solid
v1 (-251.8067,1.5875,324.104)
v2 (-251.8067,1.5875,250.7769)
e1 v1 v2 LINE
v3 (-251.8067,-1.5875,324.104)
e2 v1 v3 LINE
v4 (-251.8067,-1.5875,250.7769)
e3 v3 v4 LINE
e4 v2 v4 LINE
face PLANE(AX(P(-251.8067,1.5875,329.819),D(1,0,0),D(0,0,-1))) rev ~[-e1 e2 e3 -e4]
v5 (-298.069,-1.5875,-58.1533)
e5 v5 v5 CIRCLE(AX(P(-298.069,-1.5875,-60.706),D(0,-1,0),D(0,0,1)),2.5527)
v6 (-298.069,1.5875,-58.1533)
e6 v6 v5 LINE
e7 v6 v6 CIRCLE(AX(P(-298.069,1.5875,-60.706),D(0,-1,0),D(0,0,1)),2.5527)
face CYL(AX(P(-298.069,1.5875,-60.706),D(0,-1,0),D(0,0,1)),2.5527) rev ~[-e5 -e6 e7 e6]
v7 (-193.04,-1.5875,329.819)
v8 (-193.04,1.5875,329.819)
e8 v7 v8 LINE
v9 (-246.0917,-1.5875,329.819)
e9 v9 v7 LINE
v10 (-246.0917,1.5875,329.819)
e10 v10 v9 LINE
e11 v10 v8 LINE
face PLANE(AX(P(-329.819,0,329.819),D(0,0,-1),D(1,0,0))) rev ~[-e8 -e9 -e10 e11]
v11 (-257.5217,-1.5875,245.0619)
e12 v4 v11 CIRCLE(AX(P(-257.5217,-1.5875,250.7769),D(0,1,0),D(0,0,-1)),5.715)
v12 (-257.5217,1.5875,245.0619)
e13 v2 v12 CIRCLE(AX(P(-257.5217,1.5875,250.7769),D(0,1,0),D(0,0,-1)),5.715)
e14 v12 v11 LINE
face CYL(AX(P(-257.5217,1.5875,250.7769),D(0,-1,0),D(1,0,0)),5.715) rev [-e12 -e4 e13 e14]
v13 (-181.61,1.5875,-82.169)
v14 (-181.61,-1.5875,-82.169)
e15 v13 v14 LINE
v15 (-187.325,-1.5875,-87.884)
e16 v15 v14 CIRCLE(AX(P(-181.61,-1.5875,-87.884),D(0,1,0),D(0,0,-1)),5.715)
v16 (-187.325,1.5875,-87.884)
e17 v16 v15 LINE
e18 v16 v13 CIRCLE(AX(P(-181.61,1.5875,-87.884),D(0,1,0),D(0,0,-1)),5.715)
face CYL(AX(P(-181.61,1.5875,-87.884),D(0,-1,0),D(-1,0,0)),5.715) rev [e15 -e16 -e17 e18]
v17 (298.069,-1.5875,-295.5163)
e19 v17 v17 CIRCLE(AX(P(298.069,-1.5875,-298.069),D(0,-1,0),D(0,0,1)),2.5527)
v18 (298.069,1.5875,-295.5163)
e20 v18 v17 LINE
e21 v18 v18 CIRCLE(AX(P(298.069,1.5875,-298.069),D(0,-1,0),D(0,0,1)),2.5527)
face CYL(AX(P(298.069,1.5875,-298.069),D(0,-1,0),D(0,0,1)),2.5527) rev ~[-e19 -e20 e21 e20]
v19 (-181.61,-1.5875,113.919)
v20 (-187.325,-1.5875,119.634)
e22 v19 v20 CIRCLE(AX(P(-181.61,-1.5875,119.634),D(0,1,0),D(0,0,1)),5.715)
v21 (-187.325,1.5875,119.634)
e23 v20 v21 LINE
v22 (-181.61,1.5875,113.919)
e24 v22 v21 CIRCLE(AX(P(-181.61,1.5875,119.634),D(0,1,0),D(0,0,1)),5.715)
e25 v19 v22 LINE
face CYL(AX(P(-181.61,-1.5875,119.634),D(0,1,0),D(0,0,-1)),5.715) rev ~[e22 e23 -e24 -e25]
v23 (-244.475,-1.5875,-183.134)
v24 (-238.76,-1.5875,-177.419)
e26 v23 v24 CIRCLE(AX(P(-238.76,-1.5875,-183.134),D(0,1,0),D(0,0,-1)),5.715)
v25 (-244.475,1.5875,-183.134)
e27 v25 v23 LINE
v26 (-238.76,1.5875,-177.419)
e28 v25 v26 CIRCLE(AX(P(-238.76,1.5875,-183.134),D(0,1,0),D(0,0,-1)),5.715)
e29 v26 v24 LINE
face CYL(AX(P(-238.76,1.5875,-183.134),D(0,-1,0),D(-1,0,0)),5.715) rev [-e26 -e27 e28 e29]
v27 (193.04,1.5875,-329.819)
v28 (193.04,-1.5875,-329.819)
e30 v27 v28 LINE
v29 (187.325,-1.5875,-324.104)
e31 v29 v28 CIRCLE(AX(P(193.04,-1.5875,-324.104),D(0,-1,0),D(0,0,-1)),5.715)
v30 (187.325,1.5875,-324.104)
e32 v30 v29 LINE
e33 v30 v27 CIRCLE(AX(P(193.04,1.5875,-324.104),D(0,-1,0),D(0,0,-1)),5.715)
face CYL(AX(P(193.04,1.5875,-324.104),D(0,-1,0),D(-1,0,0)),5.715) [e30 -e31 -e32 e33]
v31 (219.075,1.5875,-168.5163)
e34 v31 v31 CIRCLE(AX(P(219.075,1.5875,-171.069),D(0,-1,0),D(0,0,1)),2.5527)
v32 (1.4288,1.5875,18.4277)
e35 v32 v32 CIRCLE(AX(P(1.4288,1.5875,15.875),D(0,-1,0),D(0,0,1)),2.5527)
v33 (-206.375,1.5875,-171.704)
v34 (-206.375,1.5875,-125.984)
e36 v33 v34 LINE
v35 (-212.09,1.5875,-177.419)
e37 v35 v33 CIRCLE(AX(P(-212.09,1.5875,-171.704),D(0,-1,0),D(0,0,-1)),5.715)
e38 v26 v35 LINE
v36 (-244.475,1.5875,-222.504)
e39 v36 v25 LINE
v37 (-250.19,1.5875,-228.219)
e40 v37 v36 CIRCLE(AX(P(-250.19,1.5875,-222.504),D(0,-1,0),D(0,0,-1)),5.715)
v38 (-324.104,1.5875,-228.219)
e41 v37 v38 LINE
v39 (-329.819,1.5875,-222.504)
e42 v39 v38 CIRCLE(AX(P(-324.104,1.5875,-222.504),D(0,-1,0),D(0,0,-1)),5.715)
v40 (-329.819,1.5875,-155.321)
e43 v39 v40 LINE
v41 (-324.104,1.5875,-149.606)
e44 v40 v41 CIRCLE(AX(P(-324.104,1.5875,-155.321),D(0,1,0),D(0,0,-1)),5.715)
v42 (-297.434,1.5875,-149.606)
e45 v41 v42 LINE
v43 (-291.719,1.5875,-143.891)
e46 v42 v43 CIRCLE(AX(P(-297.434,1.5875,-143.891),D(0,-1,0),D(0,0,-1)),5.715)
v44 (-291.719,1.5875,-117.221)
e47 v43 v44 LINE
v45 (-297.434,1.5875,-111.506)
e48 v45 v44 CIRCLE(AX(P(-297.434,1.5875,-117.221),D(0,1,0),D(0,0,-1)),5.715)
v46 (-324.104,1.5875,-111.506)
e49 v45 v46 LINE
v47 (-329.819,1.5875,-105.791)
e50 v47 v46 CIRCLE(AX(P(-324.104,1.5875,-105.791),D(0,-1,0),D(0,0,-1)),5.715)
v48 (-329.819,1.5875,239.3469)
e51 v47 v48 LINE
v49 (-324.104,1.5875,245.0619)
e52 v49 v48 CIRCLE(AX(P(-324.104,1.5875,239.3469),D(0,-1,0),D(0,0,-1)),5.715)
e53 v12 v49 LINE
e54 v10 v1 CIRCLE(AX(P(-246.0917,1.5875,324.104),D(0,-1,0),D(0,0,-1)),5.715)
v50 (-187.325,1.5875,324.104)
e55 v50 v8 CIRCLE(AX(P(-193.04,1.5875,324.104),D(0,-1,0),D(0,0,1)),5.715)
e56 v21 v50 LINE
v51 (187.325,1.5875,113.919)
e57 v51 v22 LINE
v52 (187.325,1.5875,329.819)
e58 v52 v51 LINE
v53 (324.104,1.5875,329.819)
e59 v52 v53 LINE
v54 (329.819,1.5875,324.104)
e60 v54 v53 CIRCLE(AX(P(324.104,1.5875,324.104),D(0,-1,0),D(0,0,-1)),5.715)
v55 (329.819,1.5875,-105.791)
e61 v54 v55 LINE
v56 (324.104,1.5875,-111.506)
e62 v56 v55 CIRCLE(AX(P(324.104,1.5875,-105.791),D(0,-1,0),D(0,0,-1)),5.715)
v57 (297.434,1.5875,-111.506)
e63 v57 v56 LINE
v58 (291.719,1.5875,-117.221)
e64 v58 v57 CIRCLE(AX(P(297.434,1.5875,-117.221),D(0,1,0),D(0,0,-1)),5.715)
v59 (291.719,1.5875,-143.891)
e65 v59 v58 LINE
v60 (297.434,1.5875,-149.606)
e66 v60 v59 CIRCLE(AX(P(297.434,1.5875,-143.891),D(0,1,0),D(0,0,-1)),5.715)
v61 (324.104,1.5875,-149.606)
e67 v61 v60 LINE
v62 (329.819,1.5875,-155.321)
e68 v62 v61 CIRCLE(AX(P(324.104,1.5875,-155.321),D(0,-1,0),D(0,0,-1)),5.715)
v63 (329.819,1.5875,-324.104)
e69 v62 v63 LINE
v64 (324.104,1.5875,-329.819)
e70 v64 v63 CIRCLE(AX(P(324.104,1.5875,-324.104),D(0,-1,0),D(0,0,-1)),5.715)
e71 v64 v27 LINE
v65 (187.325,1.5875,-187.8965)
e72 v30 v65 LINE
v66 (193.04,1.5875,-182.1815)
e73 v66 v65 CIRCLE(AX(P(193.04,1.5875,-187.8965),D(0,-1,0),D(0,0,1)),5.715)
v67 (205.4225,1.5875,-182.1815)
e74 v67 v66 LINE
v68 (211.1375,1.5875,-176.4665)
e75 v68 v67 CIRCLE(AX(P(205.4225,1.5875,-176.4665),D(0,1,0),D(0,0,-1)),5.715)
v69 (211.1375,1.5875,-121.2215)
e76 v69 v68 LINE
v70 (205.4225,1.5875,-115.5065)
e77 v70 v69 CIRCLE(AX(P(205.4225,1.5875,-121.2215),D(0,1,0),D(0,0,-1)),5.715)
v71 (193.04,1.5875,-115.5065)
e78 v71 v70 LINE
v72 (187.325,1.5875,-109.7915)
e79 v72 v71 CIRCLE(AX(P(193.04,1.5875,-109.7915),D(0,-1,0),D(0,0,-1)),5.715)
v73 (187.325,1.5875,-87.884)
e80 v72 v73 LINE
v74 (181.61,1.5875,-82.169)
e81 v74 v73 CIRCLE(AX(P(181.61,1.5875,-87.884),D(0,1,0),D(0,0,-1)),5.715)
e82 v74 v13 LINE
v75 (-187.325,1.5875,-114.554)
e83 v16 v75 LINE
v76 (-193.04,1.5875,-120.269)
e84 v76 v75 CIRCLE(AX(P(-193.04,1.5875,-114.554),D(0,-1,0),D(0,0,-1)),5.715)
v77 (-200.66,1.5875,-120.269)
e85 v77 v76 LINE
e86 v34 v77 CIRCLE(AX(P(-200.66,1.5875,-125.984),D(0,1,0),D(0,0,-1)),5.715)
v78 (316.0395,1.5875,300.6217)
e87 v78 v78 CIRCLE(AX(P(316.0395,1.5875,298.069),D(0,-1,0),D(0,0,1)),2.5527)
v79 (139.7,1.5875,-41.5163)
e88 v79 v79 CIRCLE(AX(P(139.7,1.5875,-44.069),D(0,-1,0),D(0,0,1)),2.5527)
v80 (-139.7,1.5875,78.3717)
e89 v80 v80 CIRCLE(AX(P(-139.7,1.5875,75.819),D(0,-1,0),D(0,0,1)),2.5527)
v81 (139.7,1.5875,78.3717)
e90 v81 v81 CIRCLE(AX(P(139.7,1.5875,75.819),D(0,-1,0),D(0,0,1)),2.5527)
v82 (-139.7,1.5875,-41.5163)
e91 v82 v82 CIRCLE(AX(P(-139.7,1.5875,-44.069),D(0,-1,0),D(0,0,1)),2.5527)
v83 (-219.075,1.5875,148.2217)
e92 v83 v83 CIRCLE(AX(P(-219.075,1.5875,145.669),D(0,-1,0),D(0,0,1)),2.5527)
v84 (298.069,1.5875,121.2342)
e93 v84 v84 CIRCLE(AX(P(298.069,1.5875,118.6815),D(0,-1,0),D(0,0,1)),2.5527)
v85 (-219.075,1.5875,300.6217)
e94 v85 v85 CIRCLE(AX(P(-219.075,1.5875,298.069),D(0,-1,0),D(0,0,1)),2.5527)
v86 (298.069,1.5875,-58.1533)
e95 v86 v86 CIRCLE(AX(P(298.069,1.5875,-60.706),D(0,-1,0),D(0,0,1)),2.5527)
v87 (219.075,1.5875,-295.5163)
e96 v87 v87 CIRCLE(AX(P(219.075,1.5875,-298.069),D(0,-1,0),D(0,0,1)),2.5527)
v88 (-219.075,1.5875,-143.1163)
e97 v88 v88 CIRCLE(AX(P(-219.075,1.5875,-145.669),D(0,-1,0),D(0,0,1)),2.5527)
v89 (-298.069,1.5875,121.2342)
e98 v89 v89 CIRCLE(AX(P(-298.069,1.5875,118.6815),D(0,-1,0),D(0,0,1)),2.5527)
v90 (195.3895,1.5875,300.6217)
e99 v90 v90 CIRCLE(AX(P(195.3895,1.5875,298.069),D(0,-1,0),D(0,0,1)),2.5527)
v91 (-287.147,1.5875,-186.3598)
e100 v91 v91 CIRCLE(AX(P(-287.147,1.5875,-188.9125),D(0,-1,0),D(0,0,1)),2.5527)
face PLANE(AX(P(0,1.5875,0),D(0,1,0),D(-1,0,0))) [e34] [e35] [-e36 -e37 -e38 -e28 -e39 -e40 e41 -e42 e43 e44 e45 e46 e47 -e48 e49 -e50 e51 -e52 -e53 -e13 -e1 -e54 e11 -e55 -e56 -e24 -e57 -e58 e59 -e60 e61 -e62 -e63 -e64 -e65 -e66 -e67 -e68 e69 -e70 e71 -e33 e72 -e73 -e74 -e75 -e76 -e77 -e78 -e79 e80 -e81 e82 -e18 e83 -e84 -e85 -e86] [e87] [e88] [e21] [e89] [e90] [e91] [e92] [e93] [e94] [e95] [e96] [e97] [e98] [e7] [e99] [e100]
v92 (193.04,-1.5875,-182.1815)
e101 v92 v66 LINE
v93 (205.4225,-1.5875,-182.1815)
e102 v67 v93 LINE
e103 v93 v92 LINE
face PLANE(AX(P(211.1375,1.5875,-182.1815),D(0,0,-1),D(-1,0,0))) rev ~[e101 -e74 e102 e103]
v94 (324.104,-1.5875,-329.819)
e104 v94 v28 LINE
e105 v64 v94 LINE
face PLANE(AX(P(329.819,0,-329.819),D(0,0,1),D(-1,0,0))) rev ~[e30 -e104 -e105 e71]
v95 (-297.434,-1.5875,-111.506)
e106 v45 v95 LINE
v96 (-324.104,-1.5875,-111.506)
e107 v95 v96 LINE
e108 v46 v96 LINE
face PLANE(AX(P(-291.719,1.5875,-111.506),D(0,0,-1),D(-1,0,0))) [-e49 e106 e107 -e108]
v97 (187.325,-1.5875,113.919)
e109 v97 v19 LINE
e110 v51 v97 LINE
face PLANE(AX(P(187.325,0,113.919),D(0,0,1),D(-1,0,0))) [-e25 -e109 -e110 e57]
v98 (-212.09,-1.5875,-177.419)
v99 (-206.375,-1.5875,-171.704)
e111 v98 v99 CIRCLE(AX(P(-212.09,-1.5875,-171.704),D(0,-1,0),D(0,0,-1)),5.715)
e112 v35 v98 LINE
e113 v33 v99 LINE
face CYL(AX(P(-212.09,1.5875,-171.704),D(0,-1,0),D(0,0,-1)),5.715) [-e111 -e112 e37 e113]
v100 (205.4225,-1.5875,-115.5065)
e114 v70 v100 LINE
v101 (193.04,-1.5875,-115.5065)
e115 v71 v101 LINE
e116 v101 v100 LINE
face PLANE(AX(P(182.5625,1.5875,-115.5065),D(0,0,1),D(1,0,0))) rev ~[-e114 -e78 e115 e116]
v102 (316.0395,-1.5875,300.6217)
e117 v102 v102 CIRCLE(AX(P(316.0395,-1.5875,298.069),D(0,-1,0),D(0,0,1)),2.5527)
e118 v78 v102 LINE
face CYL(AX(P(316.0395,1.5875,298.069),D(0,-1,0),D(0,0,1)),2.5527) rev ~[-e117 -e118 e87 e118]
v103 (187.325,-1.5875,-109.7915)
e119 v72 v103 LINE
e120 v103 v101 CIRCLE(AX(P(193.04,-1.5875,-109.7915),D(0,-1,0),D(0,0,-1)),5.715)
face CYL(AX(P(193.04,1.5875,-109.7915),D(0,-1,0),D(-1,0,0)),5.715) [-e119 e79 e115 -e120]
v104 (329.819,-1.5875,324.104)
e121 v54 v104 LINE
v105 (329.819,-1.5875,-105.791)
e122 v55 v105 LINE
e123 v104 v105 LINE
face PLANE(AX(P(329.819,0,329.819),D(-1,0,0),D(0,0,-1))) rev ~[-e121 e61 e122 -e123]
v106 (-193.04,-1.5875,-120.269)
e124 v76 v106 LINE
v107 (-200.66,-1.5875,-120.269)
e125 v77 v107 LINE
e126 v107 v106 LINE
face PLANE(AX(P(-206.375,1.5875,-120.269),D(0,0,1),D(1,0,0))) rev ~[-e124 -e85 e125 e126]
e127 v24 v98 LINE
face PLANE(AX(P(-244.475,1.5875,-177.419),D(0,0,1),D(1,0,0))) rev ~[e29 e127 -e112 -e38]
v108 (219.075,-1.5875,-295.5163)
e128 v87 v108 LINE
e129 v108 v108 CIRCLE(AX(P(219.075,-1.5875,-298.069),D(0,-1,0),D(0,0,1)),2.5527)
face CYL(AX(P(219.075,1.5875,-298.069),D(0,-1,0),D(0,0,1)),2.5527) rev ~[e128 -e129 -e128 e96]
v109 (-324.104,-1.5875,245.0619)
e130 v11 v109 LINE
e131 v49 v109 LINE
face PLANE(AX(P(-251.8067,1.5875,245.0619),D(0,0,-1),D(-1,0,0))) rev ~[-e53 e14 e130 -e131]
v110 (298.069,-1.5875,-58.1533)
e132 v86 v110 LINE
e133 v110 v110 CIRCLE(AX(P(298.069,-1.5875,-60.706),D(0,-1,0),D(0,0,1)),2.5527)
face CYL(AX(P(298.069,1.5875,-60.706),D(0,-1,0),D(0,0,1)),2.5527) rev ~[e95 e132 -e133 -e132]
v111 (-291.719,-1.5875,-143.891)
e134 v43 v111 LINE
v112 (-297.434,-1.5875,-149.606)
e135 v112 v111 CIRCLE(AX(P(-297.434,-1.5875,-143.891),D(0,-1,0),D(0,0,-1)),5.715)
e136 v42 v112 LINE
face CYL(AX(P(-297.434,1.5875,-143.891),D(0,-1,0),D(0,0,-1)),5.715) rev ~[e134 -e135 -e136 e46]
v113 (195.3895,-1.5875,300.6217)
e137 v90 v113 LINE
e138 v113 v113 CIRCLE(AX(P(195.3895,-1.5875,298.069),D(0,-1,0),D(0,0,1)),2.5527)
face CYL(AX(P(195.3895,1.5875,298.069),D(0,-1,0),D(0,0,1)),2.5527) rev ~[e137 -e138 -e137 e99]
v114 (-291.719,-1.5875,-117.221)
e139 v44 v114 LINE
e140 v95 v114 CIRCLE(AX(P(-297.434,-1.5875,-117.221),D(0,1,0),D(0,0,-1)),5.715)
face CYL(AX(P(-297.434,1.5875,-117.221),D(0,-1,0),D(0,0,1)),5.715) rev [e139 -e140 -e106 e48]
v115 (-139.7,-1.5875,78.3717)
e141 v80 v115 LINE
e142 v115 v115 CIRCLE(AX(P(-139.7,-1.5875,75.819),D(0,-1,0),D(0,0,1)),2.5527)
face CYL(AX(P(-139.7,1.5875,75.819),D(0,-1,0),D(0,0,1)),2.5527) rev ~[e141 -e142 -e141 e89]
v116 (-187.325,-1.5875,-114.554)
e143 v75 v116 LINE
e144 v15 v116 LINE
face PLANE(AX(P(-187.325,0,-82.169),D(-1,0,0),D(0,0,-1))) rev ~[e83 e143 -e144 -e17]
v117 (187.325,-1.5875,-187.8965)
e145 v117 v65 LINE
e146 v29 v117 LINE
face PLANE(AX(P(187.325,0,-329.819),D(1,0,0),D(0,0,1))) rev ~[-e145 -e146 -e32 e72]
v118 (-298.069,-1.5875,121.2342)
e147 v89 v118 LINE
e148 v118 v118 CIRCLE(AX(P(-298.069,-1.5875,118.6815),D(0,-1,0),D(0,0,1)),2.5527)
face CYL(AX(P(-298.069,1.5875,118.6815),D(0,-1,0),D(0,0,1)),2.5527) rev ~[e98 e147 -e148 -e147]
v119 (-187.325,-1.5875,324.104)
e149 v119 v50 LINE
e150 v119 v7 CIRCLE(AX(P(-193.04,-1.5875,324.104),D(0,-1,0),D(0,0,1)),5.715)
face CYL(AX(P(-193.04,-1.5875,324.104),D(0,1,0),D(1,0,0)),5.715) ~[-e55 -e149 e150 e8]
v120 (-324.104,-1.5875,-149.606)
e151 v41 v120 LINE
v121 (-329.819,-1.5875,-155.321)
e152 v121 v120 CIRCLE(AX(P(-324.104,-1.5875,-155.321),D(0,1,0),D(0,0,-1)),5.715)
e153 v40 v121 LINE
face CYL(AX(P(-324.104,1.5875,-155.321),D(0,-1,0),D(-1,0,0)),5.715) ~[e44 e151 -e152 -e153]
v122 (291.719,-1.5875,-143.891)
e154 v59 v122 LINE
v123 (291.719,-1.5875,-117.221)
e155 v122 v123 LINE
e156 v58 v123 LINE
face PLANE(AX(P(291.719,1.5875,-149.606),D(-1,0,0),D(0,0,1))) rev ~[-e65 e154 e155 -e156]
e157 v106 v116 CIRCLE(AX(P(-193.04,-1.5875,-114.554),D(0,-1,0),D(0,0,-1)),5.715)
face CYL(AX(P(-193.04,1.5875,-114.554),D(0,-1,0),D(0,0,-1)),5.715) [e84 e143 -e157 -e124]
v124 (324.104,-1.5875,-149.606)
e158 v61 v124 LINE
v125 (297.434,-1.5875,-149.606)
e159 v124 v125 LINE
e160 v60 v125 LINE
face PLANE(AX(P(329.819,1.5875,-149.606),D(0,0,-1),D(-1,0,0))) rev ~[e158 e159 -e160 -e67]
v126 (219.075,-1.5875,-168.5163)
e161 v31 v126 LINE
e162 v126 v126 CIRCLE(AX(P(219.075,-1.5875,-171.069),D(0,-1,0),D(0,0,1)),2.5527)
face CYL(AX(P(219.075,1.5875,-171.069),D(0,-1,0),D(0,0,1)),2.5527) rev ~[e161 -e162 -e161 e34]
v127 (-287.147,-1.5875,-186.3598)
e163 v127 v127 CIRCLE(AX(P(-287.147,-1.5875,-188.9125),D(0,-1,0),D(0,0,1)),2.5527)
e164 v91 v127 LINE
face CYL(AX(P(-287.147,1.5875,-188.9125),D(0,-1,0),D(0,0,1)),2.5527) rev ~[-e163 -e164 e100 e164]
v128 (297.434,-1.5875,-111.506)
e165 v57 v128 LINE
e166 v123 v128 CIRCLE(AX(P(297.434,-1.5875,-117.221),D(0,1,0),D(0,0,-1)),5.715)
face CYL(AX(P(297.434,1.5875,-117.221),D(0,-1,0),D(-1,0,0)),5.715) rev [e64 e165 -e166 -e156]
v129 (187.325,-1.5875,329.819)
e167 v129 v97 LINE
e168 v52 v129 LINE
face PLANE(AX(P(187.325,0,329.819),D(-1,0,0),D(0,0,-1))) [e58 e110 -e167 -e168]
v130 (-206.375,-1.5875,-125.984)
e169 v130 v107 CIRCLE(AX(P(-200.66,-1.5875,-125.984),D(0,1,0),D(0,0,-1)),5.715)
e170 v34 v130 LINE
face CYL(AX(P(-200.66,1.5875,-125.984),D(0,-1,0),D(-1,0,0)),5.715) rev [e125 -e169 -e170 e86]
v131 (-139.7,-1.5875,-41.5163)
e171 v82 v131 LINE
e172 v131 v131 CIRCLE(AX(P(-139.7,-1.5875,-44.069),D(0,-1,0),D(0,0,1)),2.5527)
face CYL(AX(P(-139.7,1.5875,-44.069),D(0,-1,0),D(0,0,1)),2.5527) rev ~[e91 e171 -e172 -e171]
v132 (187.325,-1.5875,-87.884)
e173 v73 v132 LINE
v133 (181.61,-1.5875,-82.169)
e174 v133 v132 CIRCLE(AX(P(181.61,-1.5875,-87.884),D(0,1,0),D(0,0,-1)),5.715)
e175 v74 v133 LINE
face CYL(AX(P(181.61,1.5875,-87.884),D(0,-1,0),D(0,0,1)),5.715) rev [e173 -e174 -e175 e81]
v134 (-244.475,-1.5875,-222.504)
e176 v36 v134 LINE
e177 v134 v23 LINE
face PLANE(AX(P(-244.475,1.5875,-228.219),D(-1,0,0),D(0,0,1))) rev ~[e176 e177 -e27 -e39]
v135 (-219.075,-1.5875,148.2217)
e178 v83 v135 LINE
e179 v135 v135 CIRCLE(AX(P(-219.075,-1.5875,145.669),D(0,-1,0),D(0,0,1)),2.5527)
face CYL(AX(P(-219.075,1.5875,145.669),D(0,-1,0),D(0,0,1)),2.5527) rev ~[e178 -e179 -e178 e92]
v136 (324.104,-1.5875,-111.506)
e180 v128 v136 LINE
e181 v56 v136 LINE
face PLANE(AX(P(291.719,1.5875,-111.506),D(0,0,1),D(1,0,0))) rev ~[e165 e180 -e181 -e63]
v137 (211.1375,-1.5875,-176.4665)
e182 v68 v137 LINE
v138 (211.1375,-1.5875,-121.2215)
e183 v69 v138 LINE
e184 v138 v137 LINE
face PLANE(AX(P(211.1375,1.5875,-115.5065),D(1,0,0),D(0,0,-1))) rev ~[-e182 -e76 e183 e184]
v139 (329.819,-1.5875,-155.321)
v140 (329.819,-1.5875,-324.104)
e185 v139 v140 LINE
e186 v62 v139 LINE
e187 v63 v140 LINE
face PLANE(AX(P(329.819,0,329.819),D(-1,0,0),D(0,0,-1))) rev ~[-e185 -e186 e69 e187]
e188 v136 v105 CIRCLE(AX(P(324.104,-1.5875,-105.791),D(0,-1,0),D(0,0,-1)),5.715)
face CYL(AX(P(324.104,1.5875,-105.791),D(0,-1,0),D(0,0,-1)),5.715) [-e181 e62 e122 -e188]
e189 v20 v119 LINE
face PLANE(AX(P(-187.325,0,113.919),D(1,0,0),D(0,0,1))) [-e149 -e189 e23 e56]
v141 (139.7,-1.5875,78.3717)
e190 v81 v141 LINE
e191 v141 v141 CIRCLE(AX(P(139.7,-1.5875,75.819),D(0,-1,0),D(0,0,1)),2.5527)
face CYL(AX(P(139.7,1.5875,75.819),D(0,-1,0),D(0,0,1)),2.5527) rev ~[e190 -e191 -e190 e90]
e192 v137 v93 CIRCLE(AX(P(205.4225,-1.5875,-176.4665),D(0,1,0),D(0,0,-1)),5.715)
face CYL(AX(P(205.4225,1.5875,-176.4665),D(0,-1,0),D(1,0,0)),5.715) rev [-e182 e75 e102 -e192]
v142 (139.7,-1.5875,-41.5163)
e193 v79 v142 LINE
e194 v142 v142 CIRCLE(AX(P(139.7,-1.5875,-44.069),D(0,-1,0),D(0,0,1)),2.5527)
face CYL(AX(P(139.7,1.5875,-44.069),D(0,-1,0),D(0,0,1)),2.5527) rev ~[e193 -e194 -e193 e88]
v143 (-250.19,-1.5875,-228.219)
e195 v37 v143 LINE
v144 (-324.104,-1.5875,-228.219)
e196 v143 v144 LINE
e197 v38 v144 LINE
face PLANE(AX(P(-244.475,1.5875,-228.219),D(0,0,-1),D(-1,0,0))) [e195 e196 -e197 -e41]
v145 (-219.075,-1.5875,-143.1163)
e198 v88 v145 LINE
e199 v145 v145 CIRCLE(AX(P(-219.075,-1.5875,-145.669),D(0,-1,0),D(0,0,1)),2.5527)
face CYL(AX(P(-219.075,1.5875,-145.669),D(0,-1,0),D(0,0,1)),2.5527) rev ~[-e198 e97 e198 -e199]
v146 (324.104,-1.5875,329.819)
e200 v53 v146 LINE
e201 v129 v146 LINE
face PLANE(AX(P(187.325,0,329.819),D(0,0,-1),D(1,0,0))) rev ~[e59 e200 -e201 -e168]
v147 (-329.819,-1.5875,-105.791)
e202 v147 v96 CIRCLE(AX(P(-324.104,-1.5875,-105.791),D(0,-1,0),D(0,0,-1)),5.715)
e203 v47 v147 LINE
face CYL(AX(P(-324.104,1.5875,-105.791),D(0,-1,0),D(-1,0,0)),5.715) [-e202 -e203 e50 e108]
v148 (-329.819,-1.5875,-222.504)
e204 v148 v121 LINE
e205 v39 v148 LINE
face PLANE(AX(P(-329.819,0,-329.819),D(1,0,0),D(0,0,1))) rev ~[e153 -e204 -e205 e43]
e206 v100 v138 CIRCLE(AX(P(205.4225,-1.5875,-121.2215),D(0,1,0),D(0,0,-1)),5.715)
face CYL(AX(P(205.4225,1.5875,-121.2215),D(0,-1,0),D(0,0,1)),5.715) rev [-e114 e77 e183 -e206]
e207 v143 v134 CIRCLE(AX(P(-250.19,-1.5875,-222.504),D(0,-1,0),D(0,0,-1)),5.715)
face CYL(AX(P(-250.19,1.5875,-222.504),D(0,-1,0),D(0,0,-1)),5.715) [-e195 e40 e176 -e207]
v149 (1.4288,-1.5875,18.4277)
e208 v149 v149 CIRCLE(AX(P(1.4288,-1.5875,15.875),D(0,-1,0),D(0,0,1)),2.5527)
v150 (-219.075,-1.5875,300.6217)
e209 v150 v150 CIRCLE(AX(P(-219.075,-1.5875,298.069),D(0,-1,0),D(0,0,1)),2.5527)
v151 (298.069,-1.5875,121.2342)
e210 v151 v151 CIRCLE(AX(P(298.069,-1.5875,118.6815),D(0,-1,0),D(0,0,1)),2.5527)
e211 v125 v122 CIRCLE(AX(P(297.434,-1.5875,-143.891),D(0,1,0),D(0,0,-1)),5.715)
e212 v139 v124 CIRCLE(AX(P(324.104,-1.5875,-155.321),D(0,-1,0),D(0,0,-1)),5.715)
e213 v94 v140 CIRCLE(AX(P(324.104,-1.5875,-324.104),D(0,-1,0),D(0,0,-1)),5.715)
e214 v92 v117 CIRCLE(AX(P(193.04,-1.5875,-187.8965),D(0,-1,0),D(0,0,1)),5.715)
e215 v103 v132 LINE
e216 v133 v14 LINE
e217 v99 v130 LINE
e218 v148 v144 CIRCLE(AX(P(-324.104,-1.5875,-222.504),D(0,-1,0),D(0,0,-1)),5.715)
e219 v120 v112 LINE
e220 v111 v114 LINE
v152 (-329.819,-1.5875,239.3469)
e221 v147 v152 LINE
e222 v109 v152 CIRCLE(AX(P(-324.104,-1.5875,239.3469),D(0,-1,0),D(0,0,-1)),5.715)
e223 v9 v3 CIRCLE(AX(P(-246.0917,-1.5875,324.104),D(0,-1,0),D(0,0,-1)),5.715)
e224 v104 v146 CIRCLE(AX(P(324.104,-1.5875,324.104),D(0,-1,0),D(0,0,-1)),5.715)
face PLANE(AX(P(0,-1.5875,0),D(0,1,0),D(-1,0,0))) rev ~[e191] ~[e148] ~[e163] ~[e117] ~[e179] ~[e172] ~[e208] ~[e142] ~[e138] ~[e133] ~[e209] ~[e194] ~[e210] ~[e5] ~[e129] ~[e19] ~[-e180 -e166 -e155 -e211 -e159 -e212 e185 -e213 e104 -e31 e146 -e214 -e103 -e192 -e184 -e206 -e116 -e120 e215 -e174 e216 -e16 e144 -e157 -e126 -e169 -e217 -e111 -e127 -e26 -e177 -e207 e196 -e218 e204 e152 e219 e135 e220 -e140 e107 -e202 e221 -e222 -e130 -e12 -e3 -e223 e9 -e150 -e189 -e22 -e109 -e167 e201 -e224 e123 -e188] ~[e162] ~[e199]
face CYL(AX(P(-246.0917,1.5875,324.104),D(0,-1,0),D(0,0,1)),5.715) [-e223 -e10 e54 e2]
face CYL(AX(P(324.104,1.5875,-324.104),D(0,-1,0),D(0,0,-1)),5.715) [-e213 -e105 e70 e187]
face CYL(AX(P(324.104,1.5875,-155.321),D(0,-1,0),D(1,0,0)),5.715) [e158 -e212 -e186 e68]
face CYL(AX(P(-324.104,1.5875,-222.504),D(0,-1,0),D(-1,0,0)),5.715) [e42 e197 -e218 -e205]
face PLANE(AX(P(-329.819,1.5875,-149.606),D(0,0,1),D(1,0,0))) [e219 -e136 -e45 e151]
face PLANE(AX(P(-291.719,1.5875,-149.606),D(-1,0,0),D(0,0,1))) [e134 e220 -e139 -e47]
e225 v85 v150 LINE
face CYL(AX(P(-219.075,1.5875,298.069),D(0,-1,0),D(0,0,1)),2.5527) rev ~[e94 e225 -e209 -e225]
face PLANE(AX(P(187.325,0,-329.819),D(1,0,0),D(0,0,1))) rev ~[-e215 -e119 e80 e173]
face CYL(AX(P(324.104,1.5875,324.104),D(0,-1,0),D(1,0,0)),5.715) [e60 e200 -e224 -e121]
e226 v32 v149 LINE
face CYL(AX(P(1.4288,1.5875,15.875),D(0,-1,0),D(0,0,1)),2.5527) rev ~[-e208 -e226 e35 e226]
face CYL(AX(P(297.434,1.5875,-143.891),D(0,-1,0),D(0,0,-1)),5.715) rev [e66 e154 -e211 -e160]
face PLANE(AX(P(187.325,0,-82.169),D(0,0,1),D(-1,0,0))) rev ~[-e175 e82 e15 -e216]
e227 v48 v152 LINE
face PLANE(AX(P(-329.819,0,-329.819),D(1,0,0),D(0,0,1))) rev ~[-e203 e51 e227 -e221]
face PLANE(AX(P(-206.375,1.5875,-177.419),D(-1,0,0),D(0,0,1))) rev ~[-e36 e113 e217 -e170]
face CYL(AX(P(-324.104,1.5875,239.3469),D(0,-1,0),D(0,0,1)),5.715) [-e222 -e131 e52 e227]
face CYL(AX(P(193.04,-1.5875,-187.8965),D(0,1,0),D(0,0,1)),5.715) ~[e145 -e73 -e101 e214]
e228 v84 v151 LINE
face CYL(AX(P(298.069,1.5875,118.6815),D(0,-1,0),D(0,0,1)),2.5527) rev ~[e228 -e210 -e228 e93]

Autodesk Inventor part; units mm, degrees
ref_plane "YZ Plane" through (0, 0, 0) normal (1, 0, 0) x (0, 1, 0)
ref_plane "XZ Plane" through (0, 0, 0) normal (0, 1, 0) x (-1, 0, 0)
ref_plane "XY Plane" through (0, 0, 0) normal (0, 0, 1) x (1, 0, 0)
sketch "Sketch1" plane through (0, 0, 0) normal (0, 1, 0) x (-1, 0, 0)
  line L0 (329.819, 329.819) -> (-329.819, 329.819)
  line L1 (-329.819, 329.819) -> (-329.819, -329.819)
  line L2 (-329.819, -329.819) -> (329.819, -329.819)
  line L3 (329.819, -329.819) -> (329.819, 329.819)
  line L4 (329.819, 329.819) -> (-329.819, -329.819) construction
  line L5 (-329.819, 329.819) -> (329.819, -329.819) construction
  line L6 (187.325, 329.819) -> (-187.325, 329.819) construction
  line L7 (-187.325, 329.819) -> (-187.325, 113.919)
  line L8 (-187.325, 113.919) -> (187.325, 113.919)
  line L9 (187.325, 113.919) -> (187.325, 329.819)
  line L10 (187.325, -329.819) -> (-187.325, -329.819) construction
  line L11 (-187.325, -329.819) -> (-187.325, -82.169)
  line L12 (-187.325, -82.169) -> (187.325, -82.169)
  line L13 (187.325, -82.169) -> (187.325, -329.819)
  point P0 (0, 0)
  point P1 (0, 329.819)
  point P2 (0, 329.819)
  point P3 (0, -329.819)
  point P4 (0, -329.819)
  point P5 (-187.325, 329.819)
  dimension "d0" = 659.638
  dimension "d1" = 659.638
  dimension "d3" = 215.9
  dimension "d4" = 247.65
  dimension "d5" = 374.65
extrude "Extrusion1" add sketch "Sketch1" along normal mid plane 3.175 contours L3 L2 L13 L12 L11 L1 L0 L7 L8 L9
sketch "Sketch2" plane through (0, 1.5875, 0) normal (0, 1, 0) x (1, 0, 0)
  circle A0 centre (-283.3124, 275.8316) radius 34.925 construction
  line L0 (329.819, 329.819) -> (329.819, -329.819) construction
  line L1 (329.819, -329.819) -> (187.325, -329.819) construction
  line L2 (187.325, -329.819) -> (187.325, -113.919) construction
  line L3 (187.325, -113.919) -> (-187.325, -113.919) construction
  line L4 (-187.325, -113.919) -> (-187.325, -329.819) construction
  line L5 (-187.325, -329.819) -> (-329.819, -329.819) construction
  line L6 (-329.819, -329.819) -> (-329.819, 329.819) construction
  line L7 (-329.819, 329.819) -> (-187.325, 329.819) construction
  line L8 (-187.325, 329.819) -> (-187.325, 82.169) construction
  line L9 (-187.325, 82.169) -> (187.325, 82.169) construction
  line L10 (187.325, 82.169) -> (187.325, 329.819) construction
  line L11 (187.325, 329.819) -> (329.819, 329.819) construction
  line L12 (-187.325, 329.819) -> (-329.819, 329.819) construction
  line L13 (-329.819, 329.819) -> (-187.325, 329.819)
  line L14 (-187.325, 329.819) -> (-187.325, 228.219)
  line L15 (-187.325, 228.219) -> (-329.819, 228.219)
  line L16 (-329.819, 228.219) -> (-329.819, 329.819)
  line L17 (329.819, -329.819) -> (187.325, -329.819) construction
  line L18 (187.325, -113.919) -> (206.375, -113.919)
  line L19 (206.375, -113.919) -> (206.375, -329.819)
  line L20 (206.375, -329.819) -> (187.325, -329.819)
  line L21 (187.325, -329.819) -> (187.325, -113.919)
  line L22 (-329.819, 329.819) -> (-329.819, -329.819) construction
  line L23 (-329.819, 149.606) -> (-291.719, 149.606)
  line L24 (-291.719, 149.606) -> (-291.719, 111.506)
  line L25 (-291.719, 111.506) -> (-329.819, 111.506)
  line L26 (-329.819, 111.506) -> (-329.819, 149.606)
  line L27 (329.819, 149.606) -> (291.719, 149.606)
  line L28 (291.719, 149.606) -> (291.719, 111.506)
  line L29 (291.719, 111.506) -> (329.819, 111.506)
  line L30 (329.819, 111.506) -> (329.819, 149.606)
  line L31 (206.375, -113.919) -> (250.825, -113.919)
  line L32 (250.825, -113.919) -> (250.825, -266.319)
  line L33 (250.825, -266.319) -> (206.375, -266.319)
  line L34 (206.375, -266.319) -> (206.375, -113.919)
  line L35 (-187.325, 82.169) -> (-187.325, 329.819) construction
  line L36 (-187.325, 228.219) -> (-244.475, 228.219)
  line L37 (-244.475, 228.219) -> (-244.475, 177.419)
  line L38 (-244.475, 177.419) -> (-187.325, 177.419)
  line L39 (-187.325, 177.419) -> (-187.325, 228.219)
  circle A1 centre (-219.075, 209.169) radius 19.05 construction
  line L40 (-329.819, -329.819) -> (-187.325, -329.819) construction
  line L41 (-329.819, -329.819) -> (-187.325, -329.819)
  line L42 (-187.325, -329.819) -> (-187.325, -228.219)
  line L43 (-187.325, -228.219) -> (-329.819, -228.219)
  line L44 (-329.819, -228.219) -> (-329.819, -329.819)
  point P0 (0, 0)
  point P1 (-329.819, 130.556)
  dimension "d9" = 69.85
  dimension "d10" = 46.5066
  dimension "d11" = 53.9874
  dimension "d12" = 101.6
  dimension "d16" = 19.05
  dimension "d17" = 460.375
  dimension "d18" = 38.1
  dimension "d19" = 38.1
  dimension "d20" = 63.5
  dimension "d21" = 63.5
  dimension "d28" = 38.1
  dimension "d29" = 31.75
  dimension "d30" = 120.65
  dimension "d31" = 57.15
  dimension "d32" = 50.8
  dimension "d61" = 101.6
extrude "Extrusion2" cut sketch "Sketch2" against normal through all contours L13 L14 L15 L16 | L39 L38 L37 L15 | L23 L24 L25 L26 | L30 L29 L28 L27
fillet "Fillet1" radius 5.715 20 edges at (-187.325, 0, 113.919) (329.819, 0, 329.819) (329.819, 0, -329.819) (187.325, 0, -329.819) (187.325, 0, -82.169) (-187.325, 0, -82.169) (-329.819, 0, 329.819) (-329.819, 0, -228.219) (-329.819, 0, -149.606) (-291.719, 0, -149.606) (-291.719, 0, -111.506) (-329.819, 0, -111.506) (291.719, 0, -149.606) (291.719, 0, -111.506) (329.819, 0, -111.506) (329.819, 0, -149.606) (-187.325, 0, -177.419) (-244.475, 0, -177.419) (-244.475, 0, -228.219) (-187.325, 0, 329.819)
sketch "Sketch4" plane through (0, 1.5875, 0) normal (0, 1, 0) x (1, 0, 0)
  arc A0 (324.104, -329.819) -> (329.819, -324.104) centre (324.104, -324.104) ccw construction
  line L0 (324.104, -329.819) -> (187.325, -329.819) construction
  line L1 (187.325, -113.919) -> (-181.61, -113.919) construction
  arc A1 (-181.61, -113.919) -> (-187.325, -119.634) centre (-181.61, -119.634) ccw construction
  line L2 (-187.325, -119.634) -> (-187.325, -324.104) construction
  arc A2 (-193.04, -329.819) -> (-187.325, -324.104) centre (-193.04, -324.104) ccw construction
  arc A3 (-329.819, -324.104) -> (-324.104, -329.819) centre (-324.104, -324.104) ccw construction
  line L3 (-329.819, -324.104) -> (-329.819, 105.791) construction
  arc A4 (-324.104, 111.506) -> (-329.819, 105.791) centre (-324.104, 105.791) ccw construction
  line L4 (-324.104, 111.506) -> (-297.434, 111.506) construction
  arc A5 (-297.434, 111.506) -> (-291.719, 117.221) centre (-297.434, 117.221) ccw construction
  line L5 (-291.719, 117.221) -> (-291.719, 143.891) construction
  arc A6 (-291.719, 143.891) -> (-297.434, 149.606) centre (-297.434, 143.891) ccw construction
  line L6 (-297.434, 149.606) -> (-324.104, 149.606) construction
  arc A7 (-329.819, 155.321) -> (-324.104, 149.606) centre (-324.104, 155.321) ccw construction
  line L7 (-329.819, 155.321) -> (-329.819, 222.504) construction
  arc A8 (-324.104, 228.219) -> (-329.819, 222.504) centre (-324.104, 222.504) ccw construction
  line L8 (-324.104, 228.219) -> (-250.19, 228.219) construction
  arc A9 (-244.475, 222.504) -> (-250.19, 228.219) centre (-250.19, 222.504) ccw construction
  line L9 (-244.475, 222.504) -> (-244.475, 183.134) construction
  arc A10 (-244.475, 183.134) -> (-238.76, 177.419) centre (-238.76, 183.134) ccw construction
  line L10 (-238.76, 177.419) -> (-193.04, 177.419) construction
  arc A11 (-187.325, 171.704) -> (-193.04, 177.419) centre (-193.04, 171.704) ccw construction
  line L11 (-187.325, 171.704) -> (-187.325, 87.884) construction
  arc A12 (-187.325, 87.884) -> (-181.61, 82.169) centre (-181.61, 87.884) ccw construction
  line L12 (-181.61, 82.169) -> (181.61, 82.169) construction
  arc A13 (181.61, 82.169) -> (187.325, 87.884) centre (181.61, 87.884) ccw construction
  line L13 (187.325, 87.884) -> (187.325, 324.104) construction
  arc A14 (193.04, 329.819) -> (187.325, 324.104) centre (193.04, 324.104) ccw construction
  line L14 (193.04, 329.819) -> (324.104, 329.819) construction
  arc A15 (329.819, 324.104) -> (324.104, 329.819) centre (324.104, 324.104) ccw construction
  line L15 (329.819, 324.104) -> (329.819, 155.321) construction
  arc A16 (324.104, 149.606) -> (329.819, 155.321) centre (324.104, 155.321) ccw construction
  line L16 (324.104, 149.606) -> (297.434, 149.606) construction
  arc A17 (297.434, 149.606) -> (291.719, 143.891) centre (297.434, 143.891) ccw construction
  line L17 (291.719, 143.891) -> (291.719, 117.221) construction
  arc A18 (291.719, 117.221) -> (297.434, 111.506) centre (297.434, 117.221) ccw construction
  line L18 (297.434, 111.506) -> (324.104, 111.506) construction
  arc A19 (329.819, 105.791) -> (324.104, 111.506) centre (324.104, 105.791) ccw construction
  line L19 (329.819, 105.791) -> (329.819, -324.104) construction
  line L20 (195.3895, -298.069) -> (316.0395, -298.069) construction
  line L21 (329.819, 105.791) -> (329.819, -324.104) construction
  line L22 (187.325, -113.919) -> (-181.61, -113.919) construction
  line L23 (2.8575, -113.919) -> (0, 82.169) construction
  line L24 (-324.104, 155.321) -> (-250.19, 222.504) construction
  line L25 (-298.069, 60.706) -> (-298.069, -298.069) construction
  line L26 (-193.04, -329.819) -> (-324.104, -329.819) projected
  line L27 (187.325, -329.819) -> (187.325, -113.919) projected
  point P0 (0, 0)
  point P1 (139.7, 44.069)
  point P2 (139.7, -75.819)
  point P3 (-139.7, 44.069)
  point P4 (-139.7, -75.819)
  point P5 (1.4288, -15.875)
  point P6 (298.069, 60.706)
  point P7 (298.069, 298.069)
  point P8 (219.075, 298.069)
  point P9 (-219.075, -145.669)
  point P10 (298.069, -118.6815)
  point P11 (-298.069, -118.6815)
  point P12 (-287.147, 188.9125)
  point P13 (193.9925, -298.069)
  point P14 (255.7145, -298.069)
  point P15 (255.7145, -329.819)
  point P16 (1.4288, -15.875)
  point P17 (-219.075, -298.069)
  point P18 (-287.147, 188.9125)
  point P19 (-219.075, 145.669)
  point P20 (-215.9, 177.419)
  point P21 (-298.069, -118.6815)
  point P22 (219.075, 171.069)
  dimension "d33" = 120.65
  dimension "d34" = 31.75
  dimension "d35" = 31.75
  dimension "d36" = 31.75
  dimension "d37" = 31.75
  dimension "d38" = 31.75
  dimension "d39" = 50.8
  dimension "d40" = 47.625
  dimension "d41" = 38.1
  dimension "d42" = 38.1
  dimension "d43" = 47.625
  dimension "d44" = 31.75
  dimension "d47" = 31.75
  dimension "d48" = 31.75
  dimension "d49" = 31.75
  dimension "d50" = 50.8
  dimension "d51" = 31.75
  dimension "d59" = 127
  dimension "d60" = 31.75
hole "Hole1" at (-298.069, 1.5875, 298.069) at (316.0395, 1.5875, 298.069) at (139.7, 1.5875, -44.069) at (139.7, 1.5875, 75.819) at (-139.7, 1.5875, -44.069) at (-139.7, 1.5875, 75.819) at (1.4288, 1.5875, 15.875) at (-298.069, 1.5875, -60.706) at (298.069, 1.5875, -60.706) at (298.069, 1.5875, -298.069) at (219.075, 1.5875, -298.069) at (-219.075, 1.5875, 145.669) at (195.3895, 1.5875, 298.069) at (298.069, 1.5875, 118.6815) at (-298.069, 1.5875, 118.6815) at (-287.147, 1.5875, -188.9125) at (-219.075, 1.5875, 298.069) at (-219.075, 1.5875, -145.669) at (219.075, 1.5875, -171.069) direction (0, -1, 0) diameter 5.1054 end through all clearance for "Flat Head Machine Screw (82)" size "#10" standard "Ansi Unified Screw Threads"
sketch "Sketch5" plane through (0, 1.5875, 0) normal (0, 1, 0) x (1, 0, 0)
  circle A0 centre (-219.075, 145.669) radius 2.5527 construction
  circle A1 centre (-287.147, 188.9125) radius 2.5527 construction
  circle A2 centre (298.069, -118.6815) radius 2.5527 construction
  circle A3 centre (-219.075, -145.669) radius 2.5527 construction
  circle A4 centre (298.069, 298.069) radius 2.5527 construction
  circle A5 centre (-298.069, 60.706) radius 2.5527 construction
  circle A6 centre (-139.7, -75.819) radius 2.5527 construction
  circle A7 centre (139.7, -75.819) radius 2.5527 construction
  circle A8 centre (316.0395, -298.069) radius 2.5527 construction
  circle A9 centre (-298.069, -298.069) radius 2.5527 construction
  circle A10 centre (139.7, 44.069) radius 2.5527 construction
  circle A11 centre (-139.7, 44.069) radius 2.5527 construction
  circle A12 centre (1.4288, -15.875) radius 2.5527 construction
  circle A13 centre (298.069, 60.706) radius 2.5527 construction
  circle A14 centre (219.075, 298.069) radius 2.5527 construction
  circle A15 centre (195.3895, -298.069) radius 2.5527 construction
  circle A16 centre (-298.069, -118.6815) radius 2.5527 construction
  circle A17 centre (-219.075, -298.069) radius 2.5527 construction
  circle A18 centre (219.075, 171.069) radius 2.5527 construction
  arc A19 (-181.61, -113.919) -> (-187.325, -119.634) centre (-181.61, -119.634) ccw construction
  line L0 (-187.325, -119.634) -> (-187.325, -324.104) construction
  arc A20 (-193.04, -329.819) -> (-187.325, -324.104) centre (-193.04, -324.104) ccw construction
  line L1 (-193.04, -329.819) -> (-324.104, -329.819) construction
  arc A21 (-329.819, -324.104) -> (-324.104, -329.819) centre (-324.104, -324.104) ccw construction
  line L2 (-329.819, -324.104) -> (-329.819, 105.791) construction
  arc A22 (-324.104, 111.506) -> (-329.819, 105.791) centre (-324.104, 105.791) ccw construction
  line L3 (-324.104, 111.506) -> (-297.434, 111.506) construction
  arc A23 (-297.434, 111.506) -> (-291.719, 117.221) centre (-297.434, 117.221) ccw construction
  line L4 (-291.719, 117.221) -> (-291.719, 143.891) construction
  arc A24 (-291.719, 143.891) -> (-297.434, 149.606) centre (-297.434, 143.891) ccw construction
  line L5 (-297.434, 149.606) -> (-324.104, 149.606) construction
  arc A25 (-329.819, 155.321) -> (-324.104, 149.606) centre (-324.104, 155.321) ccw construction
  line L6 (-329.819, 155.321) -> (-329.819, 222.504) construction
  arc A26 (-324.104, 228.219) -> (-329.819, 222.504) centre (-324.104, 222.504) ccw construction
  line L7 (-324.104, 228.219) -> (-250.19, 228.219) construction
  arc A27 (-244.475, 222.504) -> (-250.19, 228.219) centre (-250.19, 222.504) ccw construction
  line L8 (-244.475, 222.504) -> (-244.475, 183.134) construction
  arc A28 (-244.475, 183.134) -> (-238.76, 177.419) centre (-238.76, 183.134) ccw construction
  line L9 (-238.76, 177.419) -> (-193.04, 177.419) construction
  arc A29 (-187.325, 171.704) -> (-193.04, 177.419) centre (-193.04, 171.704) ccw construction
  line L10 (-187.325, 171.704) -> (-187.325, 87.884) construction
  arc A30 (-187.325, 87.884) -> (-181.61, 82.169) centre (-181.61, 87.884) ccw construction
  line L11 (-181.61, 82.169) -> (181.61, 82.169) construction
  arc A31 (181.61, 82.169) -> (187.325, 87.884) centre (181.61, 87.884) ccw construction
  line L12 (187.325, 87.884) -> (187.325, 324.104) construction
  arc A32 (193.04, 329.819) -> (187.325, 324.104) centre (193.04, 324.104) ccw construction
  line L13 (193.04, 329.819) -> (324.104, 329.819) construction
  arc A33 (329.819, 324.104) -> (324.104, 329.819) centre (324.104, 324.104) ccw construction
  line L14 (329.819, 324.104) -> (329.819, 155.321) construction
  arc A34 (324.104, 149.606) -> (329.819, 155.321) centre (324.104, 155.321) ccw construction
  line L15 (324.104, 149.606) -> (297.434, 149.606) construction
  arc A35 (297.434, 149.606) -> (291.719, 143.891) centre (297.434, 143.891) ccw construction
  line L16 (291.719, 143.891) -> (291.719, 117.221) construction
  arc A36 (291.719, 117.221) -> (297.434, 111.506) centre (297.434, 117.221) ccw construction
  line L17 (297.434, 111.506) -> (324.104, 111.506) construction
  arc A37 (329.819, 105.791) -> (324.104, 111.506) centre (324.104, 105.791) ccw construction
  line L18 (329.819, 105.791) -> (329.819, -324.104) construction
  arc A38 (324.104, -329.819) -> (329.819, -324.104) centre (324.104, -324.104) ccw construction
  line L19 (324.104, -329.819) -> (187.325, -329.819) construction
  line L20 (187.325, -329.819) -> (187.325, -113.919) construction
  line L21 (187.325, -113.919) -> (-181.61, -113.919) construction
  circle A39 centre (-296.2567, -289.5119) radius 34.925 construction
  line L22 (-251.8067, -245.0619) -> (-329.819, -245.0619)
  line L23 (-329.819, -245.0619) -> (-329.819, -329.819)
  line L24 (-329.819, -329.819) -> (-251.8067, -329.819)
  line L25 (-251.8067, -329.819) -> (-251.8067, -245.0619)
  line L26 (-324.104, -329.819) -> (-193.04, -329.819) construction
  line L27 (-187.325, 177.419) -> (-206.375, 177.419)
  line L28 (-206.375, 177.419) -> (-206.375, 120.269)
  line L29 (-206.375, 120.269) -> (-187.325, 120.269)
  line L30 (-187.325, 120.269) -> (-187.325, 177.419)
  line L31 (0, 82.169) -> (0, 0) construction
  line L32 (187.325, 171.704) -> (187.325, 87.884) construction
  line L33 (187.325, 177.419) -> (206.375, 177.419)
  line L34 (206.375, 177.419) -> (206.375, 120.269)
  line L35 (206.375, 120.269) -> (187.325, 120.269)
  line L36 (187.325, 120.269) -> (187.325, 177.419)
  line L37 (211.1375, 182.1815) -> (182.5625, 182.1815)
  line L38 (182.5625, 182.1815) -> (182.5625, 115.5065)
  line L39 (182.5625, 115.5065) -> (211.1375, 115.5065)
  line L40 (211.1375, 115.5065) -> (211.1375, 182.1815)
  point P0 (-296.2567, -254.5869)
  point P1 (-261.3317, -289.5119)
  dimension "d62" = 69.85
  dimension "d63" = 40.3071
  dimension "d64" = 33.5623
  dimension "d65" = 9.525
  dimension "d66" = 9.525
  dimension "d70" = 19.05
  dimension "d71" = 57.15
  dimension "d72" = 4.7625
extrude "Extrusion4" cut sketch "Sketch5" against normal through all contours L25 L24 L23 L22 | L30 L29 L28 L27 | L33 L34 L35 L36 | L40 L39 L38 L37
fillet "Fillet2" radius 5.715 10 edges at (-329.819, 0, 245.0619) (-251.8067, 0, 245.0619) (-251.8067, 0, 329.819) (-187.325, 0, -120.269) (-206.375, 0, -120.269) (-206.375, 0, -177.419) (187.325, 0, -115.5065) (211.1375, 0, -115.5065) (211.1375, 0, -182.1815) (187.325, 0, -182.1815)
equation "\"d19\" = d18"
equation "\"d35\" = d34"
equation "\"d36\" = d34"
equation "\"d37\" = d34"
equation "\"d38\" = d36"
equation "\"d42\" = d41"
equation "\"d44\" = d38"
equation "\"d47\" = d44"
equation "\"d49\" = d48"
equation "\"d57\" = Thickness"
equation "\"BendRadius\" = Thickness"
equation "\"BendReliefWidth\" = Thickness"
equation "\"BendReliefDepth\" = 0.5 * Thickness"
equation "\"CornerReliefSize\" = 4 * Thickness"
equation "\"MinimumRemnant\" = 2 * Thickness"
equation "\"TransitionRadius\" = BendRadius"
equation "\"JacobiRadiusSize\" = BendRadius"
equation "\"GapSize\" = Thickness"
equation "\"Thickness\" = 3.048"
properties part number "DB1-023" material "Polycarbonate, Smoke"
